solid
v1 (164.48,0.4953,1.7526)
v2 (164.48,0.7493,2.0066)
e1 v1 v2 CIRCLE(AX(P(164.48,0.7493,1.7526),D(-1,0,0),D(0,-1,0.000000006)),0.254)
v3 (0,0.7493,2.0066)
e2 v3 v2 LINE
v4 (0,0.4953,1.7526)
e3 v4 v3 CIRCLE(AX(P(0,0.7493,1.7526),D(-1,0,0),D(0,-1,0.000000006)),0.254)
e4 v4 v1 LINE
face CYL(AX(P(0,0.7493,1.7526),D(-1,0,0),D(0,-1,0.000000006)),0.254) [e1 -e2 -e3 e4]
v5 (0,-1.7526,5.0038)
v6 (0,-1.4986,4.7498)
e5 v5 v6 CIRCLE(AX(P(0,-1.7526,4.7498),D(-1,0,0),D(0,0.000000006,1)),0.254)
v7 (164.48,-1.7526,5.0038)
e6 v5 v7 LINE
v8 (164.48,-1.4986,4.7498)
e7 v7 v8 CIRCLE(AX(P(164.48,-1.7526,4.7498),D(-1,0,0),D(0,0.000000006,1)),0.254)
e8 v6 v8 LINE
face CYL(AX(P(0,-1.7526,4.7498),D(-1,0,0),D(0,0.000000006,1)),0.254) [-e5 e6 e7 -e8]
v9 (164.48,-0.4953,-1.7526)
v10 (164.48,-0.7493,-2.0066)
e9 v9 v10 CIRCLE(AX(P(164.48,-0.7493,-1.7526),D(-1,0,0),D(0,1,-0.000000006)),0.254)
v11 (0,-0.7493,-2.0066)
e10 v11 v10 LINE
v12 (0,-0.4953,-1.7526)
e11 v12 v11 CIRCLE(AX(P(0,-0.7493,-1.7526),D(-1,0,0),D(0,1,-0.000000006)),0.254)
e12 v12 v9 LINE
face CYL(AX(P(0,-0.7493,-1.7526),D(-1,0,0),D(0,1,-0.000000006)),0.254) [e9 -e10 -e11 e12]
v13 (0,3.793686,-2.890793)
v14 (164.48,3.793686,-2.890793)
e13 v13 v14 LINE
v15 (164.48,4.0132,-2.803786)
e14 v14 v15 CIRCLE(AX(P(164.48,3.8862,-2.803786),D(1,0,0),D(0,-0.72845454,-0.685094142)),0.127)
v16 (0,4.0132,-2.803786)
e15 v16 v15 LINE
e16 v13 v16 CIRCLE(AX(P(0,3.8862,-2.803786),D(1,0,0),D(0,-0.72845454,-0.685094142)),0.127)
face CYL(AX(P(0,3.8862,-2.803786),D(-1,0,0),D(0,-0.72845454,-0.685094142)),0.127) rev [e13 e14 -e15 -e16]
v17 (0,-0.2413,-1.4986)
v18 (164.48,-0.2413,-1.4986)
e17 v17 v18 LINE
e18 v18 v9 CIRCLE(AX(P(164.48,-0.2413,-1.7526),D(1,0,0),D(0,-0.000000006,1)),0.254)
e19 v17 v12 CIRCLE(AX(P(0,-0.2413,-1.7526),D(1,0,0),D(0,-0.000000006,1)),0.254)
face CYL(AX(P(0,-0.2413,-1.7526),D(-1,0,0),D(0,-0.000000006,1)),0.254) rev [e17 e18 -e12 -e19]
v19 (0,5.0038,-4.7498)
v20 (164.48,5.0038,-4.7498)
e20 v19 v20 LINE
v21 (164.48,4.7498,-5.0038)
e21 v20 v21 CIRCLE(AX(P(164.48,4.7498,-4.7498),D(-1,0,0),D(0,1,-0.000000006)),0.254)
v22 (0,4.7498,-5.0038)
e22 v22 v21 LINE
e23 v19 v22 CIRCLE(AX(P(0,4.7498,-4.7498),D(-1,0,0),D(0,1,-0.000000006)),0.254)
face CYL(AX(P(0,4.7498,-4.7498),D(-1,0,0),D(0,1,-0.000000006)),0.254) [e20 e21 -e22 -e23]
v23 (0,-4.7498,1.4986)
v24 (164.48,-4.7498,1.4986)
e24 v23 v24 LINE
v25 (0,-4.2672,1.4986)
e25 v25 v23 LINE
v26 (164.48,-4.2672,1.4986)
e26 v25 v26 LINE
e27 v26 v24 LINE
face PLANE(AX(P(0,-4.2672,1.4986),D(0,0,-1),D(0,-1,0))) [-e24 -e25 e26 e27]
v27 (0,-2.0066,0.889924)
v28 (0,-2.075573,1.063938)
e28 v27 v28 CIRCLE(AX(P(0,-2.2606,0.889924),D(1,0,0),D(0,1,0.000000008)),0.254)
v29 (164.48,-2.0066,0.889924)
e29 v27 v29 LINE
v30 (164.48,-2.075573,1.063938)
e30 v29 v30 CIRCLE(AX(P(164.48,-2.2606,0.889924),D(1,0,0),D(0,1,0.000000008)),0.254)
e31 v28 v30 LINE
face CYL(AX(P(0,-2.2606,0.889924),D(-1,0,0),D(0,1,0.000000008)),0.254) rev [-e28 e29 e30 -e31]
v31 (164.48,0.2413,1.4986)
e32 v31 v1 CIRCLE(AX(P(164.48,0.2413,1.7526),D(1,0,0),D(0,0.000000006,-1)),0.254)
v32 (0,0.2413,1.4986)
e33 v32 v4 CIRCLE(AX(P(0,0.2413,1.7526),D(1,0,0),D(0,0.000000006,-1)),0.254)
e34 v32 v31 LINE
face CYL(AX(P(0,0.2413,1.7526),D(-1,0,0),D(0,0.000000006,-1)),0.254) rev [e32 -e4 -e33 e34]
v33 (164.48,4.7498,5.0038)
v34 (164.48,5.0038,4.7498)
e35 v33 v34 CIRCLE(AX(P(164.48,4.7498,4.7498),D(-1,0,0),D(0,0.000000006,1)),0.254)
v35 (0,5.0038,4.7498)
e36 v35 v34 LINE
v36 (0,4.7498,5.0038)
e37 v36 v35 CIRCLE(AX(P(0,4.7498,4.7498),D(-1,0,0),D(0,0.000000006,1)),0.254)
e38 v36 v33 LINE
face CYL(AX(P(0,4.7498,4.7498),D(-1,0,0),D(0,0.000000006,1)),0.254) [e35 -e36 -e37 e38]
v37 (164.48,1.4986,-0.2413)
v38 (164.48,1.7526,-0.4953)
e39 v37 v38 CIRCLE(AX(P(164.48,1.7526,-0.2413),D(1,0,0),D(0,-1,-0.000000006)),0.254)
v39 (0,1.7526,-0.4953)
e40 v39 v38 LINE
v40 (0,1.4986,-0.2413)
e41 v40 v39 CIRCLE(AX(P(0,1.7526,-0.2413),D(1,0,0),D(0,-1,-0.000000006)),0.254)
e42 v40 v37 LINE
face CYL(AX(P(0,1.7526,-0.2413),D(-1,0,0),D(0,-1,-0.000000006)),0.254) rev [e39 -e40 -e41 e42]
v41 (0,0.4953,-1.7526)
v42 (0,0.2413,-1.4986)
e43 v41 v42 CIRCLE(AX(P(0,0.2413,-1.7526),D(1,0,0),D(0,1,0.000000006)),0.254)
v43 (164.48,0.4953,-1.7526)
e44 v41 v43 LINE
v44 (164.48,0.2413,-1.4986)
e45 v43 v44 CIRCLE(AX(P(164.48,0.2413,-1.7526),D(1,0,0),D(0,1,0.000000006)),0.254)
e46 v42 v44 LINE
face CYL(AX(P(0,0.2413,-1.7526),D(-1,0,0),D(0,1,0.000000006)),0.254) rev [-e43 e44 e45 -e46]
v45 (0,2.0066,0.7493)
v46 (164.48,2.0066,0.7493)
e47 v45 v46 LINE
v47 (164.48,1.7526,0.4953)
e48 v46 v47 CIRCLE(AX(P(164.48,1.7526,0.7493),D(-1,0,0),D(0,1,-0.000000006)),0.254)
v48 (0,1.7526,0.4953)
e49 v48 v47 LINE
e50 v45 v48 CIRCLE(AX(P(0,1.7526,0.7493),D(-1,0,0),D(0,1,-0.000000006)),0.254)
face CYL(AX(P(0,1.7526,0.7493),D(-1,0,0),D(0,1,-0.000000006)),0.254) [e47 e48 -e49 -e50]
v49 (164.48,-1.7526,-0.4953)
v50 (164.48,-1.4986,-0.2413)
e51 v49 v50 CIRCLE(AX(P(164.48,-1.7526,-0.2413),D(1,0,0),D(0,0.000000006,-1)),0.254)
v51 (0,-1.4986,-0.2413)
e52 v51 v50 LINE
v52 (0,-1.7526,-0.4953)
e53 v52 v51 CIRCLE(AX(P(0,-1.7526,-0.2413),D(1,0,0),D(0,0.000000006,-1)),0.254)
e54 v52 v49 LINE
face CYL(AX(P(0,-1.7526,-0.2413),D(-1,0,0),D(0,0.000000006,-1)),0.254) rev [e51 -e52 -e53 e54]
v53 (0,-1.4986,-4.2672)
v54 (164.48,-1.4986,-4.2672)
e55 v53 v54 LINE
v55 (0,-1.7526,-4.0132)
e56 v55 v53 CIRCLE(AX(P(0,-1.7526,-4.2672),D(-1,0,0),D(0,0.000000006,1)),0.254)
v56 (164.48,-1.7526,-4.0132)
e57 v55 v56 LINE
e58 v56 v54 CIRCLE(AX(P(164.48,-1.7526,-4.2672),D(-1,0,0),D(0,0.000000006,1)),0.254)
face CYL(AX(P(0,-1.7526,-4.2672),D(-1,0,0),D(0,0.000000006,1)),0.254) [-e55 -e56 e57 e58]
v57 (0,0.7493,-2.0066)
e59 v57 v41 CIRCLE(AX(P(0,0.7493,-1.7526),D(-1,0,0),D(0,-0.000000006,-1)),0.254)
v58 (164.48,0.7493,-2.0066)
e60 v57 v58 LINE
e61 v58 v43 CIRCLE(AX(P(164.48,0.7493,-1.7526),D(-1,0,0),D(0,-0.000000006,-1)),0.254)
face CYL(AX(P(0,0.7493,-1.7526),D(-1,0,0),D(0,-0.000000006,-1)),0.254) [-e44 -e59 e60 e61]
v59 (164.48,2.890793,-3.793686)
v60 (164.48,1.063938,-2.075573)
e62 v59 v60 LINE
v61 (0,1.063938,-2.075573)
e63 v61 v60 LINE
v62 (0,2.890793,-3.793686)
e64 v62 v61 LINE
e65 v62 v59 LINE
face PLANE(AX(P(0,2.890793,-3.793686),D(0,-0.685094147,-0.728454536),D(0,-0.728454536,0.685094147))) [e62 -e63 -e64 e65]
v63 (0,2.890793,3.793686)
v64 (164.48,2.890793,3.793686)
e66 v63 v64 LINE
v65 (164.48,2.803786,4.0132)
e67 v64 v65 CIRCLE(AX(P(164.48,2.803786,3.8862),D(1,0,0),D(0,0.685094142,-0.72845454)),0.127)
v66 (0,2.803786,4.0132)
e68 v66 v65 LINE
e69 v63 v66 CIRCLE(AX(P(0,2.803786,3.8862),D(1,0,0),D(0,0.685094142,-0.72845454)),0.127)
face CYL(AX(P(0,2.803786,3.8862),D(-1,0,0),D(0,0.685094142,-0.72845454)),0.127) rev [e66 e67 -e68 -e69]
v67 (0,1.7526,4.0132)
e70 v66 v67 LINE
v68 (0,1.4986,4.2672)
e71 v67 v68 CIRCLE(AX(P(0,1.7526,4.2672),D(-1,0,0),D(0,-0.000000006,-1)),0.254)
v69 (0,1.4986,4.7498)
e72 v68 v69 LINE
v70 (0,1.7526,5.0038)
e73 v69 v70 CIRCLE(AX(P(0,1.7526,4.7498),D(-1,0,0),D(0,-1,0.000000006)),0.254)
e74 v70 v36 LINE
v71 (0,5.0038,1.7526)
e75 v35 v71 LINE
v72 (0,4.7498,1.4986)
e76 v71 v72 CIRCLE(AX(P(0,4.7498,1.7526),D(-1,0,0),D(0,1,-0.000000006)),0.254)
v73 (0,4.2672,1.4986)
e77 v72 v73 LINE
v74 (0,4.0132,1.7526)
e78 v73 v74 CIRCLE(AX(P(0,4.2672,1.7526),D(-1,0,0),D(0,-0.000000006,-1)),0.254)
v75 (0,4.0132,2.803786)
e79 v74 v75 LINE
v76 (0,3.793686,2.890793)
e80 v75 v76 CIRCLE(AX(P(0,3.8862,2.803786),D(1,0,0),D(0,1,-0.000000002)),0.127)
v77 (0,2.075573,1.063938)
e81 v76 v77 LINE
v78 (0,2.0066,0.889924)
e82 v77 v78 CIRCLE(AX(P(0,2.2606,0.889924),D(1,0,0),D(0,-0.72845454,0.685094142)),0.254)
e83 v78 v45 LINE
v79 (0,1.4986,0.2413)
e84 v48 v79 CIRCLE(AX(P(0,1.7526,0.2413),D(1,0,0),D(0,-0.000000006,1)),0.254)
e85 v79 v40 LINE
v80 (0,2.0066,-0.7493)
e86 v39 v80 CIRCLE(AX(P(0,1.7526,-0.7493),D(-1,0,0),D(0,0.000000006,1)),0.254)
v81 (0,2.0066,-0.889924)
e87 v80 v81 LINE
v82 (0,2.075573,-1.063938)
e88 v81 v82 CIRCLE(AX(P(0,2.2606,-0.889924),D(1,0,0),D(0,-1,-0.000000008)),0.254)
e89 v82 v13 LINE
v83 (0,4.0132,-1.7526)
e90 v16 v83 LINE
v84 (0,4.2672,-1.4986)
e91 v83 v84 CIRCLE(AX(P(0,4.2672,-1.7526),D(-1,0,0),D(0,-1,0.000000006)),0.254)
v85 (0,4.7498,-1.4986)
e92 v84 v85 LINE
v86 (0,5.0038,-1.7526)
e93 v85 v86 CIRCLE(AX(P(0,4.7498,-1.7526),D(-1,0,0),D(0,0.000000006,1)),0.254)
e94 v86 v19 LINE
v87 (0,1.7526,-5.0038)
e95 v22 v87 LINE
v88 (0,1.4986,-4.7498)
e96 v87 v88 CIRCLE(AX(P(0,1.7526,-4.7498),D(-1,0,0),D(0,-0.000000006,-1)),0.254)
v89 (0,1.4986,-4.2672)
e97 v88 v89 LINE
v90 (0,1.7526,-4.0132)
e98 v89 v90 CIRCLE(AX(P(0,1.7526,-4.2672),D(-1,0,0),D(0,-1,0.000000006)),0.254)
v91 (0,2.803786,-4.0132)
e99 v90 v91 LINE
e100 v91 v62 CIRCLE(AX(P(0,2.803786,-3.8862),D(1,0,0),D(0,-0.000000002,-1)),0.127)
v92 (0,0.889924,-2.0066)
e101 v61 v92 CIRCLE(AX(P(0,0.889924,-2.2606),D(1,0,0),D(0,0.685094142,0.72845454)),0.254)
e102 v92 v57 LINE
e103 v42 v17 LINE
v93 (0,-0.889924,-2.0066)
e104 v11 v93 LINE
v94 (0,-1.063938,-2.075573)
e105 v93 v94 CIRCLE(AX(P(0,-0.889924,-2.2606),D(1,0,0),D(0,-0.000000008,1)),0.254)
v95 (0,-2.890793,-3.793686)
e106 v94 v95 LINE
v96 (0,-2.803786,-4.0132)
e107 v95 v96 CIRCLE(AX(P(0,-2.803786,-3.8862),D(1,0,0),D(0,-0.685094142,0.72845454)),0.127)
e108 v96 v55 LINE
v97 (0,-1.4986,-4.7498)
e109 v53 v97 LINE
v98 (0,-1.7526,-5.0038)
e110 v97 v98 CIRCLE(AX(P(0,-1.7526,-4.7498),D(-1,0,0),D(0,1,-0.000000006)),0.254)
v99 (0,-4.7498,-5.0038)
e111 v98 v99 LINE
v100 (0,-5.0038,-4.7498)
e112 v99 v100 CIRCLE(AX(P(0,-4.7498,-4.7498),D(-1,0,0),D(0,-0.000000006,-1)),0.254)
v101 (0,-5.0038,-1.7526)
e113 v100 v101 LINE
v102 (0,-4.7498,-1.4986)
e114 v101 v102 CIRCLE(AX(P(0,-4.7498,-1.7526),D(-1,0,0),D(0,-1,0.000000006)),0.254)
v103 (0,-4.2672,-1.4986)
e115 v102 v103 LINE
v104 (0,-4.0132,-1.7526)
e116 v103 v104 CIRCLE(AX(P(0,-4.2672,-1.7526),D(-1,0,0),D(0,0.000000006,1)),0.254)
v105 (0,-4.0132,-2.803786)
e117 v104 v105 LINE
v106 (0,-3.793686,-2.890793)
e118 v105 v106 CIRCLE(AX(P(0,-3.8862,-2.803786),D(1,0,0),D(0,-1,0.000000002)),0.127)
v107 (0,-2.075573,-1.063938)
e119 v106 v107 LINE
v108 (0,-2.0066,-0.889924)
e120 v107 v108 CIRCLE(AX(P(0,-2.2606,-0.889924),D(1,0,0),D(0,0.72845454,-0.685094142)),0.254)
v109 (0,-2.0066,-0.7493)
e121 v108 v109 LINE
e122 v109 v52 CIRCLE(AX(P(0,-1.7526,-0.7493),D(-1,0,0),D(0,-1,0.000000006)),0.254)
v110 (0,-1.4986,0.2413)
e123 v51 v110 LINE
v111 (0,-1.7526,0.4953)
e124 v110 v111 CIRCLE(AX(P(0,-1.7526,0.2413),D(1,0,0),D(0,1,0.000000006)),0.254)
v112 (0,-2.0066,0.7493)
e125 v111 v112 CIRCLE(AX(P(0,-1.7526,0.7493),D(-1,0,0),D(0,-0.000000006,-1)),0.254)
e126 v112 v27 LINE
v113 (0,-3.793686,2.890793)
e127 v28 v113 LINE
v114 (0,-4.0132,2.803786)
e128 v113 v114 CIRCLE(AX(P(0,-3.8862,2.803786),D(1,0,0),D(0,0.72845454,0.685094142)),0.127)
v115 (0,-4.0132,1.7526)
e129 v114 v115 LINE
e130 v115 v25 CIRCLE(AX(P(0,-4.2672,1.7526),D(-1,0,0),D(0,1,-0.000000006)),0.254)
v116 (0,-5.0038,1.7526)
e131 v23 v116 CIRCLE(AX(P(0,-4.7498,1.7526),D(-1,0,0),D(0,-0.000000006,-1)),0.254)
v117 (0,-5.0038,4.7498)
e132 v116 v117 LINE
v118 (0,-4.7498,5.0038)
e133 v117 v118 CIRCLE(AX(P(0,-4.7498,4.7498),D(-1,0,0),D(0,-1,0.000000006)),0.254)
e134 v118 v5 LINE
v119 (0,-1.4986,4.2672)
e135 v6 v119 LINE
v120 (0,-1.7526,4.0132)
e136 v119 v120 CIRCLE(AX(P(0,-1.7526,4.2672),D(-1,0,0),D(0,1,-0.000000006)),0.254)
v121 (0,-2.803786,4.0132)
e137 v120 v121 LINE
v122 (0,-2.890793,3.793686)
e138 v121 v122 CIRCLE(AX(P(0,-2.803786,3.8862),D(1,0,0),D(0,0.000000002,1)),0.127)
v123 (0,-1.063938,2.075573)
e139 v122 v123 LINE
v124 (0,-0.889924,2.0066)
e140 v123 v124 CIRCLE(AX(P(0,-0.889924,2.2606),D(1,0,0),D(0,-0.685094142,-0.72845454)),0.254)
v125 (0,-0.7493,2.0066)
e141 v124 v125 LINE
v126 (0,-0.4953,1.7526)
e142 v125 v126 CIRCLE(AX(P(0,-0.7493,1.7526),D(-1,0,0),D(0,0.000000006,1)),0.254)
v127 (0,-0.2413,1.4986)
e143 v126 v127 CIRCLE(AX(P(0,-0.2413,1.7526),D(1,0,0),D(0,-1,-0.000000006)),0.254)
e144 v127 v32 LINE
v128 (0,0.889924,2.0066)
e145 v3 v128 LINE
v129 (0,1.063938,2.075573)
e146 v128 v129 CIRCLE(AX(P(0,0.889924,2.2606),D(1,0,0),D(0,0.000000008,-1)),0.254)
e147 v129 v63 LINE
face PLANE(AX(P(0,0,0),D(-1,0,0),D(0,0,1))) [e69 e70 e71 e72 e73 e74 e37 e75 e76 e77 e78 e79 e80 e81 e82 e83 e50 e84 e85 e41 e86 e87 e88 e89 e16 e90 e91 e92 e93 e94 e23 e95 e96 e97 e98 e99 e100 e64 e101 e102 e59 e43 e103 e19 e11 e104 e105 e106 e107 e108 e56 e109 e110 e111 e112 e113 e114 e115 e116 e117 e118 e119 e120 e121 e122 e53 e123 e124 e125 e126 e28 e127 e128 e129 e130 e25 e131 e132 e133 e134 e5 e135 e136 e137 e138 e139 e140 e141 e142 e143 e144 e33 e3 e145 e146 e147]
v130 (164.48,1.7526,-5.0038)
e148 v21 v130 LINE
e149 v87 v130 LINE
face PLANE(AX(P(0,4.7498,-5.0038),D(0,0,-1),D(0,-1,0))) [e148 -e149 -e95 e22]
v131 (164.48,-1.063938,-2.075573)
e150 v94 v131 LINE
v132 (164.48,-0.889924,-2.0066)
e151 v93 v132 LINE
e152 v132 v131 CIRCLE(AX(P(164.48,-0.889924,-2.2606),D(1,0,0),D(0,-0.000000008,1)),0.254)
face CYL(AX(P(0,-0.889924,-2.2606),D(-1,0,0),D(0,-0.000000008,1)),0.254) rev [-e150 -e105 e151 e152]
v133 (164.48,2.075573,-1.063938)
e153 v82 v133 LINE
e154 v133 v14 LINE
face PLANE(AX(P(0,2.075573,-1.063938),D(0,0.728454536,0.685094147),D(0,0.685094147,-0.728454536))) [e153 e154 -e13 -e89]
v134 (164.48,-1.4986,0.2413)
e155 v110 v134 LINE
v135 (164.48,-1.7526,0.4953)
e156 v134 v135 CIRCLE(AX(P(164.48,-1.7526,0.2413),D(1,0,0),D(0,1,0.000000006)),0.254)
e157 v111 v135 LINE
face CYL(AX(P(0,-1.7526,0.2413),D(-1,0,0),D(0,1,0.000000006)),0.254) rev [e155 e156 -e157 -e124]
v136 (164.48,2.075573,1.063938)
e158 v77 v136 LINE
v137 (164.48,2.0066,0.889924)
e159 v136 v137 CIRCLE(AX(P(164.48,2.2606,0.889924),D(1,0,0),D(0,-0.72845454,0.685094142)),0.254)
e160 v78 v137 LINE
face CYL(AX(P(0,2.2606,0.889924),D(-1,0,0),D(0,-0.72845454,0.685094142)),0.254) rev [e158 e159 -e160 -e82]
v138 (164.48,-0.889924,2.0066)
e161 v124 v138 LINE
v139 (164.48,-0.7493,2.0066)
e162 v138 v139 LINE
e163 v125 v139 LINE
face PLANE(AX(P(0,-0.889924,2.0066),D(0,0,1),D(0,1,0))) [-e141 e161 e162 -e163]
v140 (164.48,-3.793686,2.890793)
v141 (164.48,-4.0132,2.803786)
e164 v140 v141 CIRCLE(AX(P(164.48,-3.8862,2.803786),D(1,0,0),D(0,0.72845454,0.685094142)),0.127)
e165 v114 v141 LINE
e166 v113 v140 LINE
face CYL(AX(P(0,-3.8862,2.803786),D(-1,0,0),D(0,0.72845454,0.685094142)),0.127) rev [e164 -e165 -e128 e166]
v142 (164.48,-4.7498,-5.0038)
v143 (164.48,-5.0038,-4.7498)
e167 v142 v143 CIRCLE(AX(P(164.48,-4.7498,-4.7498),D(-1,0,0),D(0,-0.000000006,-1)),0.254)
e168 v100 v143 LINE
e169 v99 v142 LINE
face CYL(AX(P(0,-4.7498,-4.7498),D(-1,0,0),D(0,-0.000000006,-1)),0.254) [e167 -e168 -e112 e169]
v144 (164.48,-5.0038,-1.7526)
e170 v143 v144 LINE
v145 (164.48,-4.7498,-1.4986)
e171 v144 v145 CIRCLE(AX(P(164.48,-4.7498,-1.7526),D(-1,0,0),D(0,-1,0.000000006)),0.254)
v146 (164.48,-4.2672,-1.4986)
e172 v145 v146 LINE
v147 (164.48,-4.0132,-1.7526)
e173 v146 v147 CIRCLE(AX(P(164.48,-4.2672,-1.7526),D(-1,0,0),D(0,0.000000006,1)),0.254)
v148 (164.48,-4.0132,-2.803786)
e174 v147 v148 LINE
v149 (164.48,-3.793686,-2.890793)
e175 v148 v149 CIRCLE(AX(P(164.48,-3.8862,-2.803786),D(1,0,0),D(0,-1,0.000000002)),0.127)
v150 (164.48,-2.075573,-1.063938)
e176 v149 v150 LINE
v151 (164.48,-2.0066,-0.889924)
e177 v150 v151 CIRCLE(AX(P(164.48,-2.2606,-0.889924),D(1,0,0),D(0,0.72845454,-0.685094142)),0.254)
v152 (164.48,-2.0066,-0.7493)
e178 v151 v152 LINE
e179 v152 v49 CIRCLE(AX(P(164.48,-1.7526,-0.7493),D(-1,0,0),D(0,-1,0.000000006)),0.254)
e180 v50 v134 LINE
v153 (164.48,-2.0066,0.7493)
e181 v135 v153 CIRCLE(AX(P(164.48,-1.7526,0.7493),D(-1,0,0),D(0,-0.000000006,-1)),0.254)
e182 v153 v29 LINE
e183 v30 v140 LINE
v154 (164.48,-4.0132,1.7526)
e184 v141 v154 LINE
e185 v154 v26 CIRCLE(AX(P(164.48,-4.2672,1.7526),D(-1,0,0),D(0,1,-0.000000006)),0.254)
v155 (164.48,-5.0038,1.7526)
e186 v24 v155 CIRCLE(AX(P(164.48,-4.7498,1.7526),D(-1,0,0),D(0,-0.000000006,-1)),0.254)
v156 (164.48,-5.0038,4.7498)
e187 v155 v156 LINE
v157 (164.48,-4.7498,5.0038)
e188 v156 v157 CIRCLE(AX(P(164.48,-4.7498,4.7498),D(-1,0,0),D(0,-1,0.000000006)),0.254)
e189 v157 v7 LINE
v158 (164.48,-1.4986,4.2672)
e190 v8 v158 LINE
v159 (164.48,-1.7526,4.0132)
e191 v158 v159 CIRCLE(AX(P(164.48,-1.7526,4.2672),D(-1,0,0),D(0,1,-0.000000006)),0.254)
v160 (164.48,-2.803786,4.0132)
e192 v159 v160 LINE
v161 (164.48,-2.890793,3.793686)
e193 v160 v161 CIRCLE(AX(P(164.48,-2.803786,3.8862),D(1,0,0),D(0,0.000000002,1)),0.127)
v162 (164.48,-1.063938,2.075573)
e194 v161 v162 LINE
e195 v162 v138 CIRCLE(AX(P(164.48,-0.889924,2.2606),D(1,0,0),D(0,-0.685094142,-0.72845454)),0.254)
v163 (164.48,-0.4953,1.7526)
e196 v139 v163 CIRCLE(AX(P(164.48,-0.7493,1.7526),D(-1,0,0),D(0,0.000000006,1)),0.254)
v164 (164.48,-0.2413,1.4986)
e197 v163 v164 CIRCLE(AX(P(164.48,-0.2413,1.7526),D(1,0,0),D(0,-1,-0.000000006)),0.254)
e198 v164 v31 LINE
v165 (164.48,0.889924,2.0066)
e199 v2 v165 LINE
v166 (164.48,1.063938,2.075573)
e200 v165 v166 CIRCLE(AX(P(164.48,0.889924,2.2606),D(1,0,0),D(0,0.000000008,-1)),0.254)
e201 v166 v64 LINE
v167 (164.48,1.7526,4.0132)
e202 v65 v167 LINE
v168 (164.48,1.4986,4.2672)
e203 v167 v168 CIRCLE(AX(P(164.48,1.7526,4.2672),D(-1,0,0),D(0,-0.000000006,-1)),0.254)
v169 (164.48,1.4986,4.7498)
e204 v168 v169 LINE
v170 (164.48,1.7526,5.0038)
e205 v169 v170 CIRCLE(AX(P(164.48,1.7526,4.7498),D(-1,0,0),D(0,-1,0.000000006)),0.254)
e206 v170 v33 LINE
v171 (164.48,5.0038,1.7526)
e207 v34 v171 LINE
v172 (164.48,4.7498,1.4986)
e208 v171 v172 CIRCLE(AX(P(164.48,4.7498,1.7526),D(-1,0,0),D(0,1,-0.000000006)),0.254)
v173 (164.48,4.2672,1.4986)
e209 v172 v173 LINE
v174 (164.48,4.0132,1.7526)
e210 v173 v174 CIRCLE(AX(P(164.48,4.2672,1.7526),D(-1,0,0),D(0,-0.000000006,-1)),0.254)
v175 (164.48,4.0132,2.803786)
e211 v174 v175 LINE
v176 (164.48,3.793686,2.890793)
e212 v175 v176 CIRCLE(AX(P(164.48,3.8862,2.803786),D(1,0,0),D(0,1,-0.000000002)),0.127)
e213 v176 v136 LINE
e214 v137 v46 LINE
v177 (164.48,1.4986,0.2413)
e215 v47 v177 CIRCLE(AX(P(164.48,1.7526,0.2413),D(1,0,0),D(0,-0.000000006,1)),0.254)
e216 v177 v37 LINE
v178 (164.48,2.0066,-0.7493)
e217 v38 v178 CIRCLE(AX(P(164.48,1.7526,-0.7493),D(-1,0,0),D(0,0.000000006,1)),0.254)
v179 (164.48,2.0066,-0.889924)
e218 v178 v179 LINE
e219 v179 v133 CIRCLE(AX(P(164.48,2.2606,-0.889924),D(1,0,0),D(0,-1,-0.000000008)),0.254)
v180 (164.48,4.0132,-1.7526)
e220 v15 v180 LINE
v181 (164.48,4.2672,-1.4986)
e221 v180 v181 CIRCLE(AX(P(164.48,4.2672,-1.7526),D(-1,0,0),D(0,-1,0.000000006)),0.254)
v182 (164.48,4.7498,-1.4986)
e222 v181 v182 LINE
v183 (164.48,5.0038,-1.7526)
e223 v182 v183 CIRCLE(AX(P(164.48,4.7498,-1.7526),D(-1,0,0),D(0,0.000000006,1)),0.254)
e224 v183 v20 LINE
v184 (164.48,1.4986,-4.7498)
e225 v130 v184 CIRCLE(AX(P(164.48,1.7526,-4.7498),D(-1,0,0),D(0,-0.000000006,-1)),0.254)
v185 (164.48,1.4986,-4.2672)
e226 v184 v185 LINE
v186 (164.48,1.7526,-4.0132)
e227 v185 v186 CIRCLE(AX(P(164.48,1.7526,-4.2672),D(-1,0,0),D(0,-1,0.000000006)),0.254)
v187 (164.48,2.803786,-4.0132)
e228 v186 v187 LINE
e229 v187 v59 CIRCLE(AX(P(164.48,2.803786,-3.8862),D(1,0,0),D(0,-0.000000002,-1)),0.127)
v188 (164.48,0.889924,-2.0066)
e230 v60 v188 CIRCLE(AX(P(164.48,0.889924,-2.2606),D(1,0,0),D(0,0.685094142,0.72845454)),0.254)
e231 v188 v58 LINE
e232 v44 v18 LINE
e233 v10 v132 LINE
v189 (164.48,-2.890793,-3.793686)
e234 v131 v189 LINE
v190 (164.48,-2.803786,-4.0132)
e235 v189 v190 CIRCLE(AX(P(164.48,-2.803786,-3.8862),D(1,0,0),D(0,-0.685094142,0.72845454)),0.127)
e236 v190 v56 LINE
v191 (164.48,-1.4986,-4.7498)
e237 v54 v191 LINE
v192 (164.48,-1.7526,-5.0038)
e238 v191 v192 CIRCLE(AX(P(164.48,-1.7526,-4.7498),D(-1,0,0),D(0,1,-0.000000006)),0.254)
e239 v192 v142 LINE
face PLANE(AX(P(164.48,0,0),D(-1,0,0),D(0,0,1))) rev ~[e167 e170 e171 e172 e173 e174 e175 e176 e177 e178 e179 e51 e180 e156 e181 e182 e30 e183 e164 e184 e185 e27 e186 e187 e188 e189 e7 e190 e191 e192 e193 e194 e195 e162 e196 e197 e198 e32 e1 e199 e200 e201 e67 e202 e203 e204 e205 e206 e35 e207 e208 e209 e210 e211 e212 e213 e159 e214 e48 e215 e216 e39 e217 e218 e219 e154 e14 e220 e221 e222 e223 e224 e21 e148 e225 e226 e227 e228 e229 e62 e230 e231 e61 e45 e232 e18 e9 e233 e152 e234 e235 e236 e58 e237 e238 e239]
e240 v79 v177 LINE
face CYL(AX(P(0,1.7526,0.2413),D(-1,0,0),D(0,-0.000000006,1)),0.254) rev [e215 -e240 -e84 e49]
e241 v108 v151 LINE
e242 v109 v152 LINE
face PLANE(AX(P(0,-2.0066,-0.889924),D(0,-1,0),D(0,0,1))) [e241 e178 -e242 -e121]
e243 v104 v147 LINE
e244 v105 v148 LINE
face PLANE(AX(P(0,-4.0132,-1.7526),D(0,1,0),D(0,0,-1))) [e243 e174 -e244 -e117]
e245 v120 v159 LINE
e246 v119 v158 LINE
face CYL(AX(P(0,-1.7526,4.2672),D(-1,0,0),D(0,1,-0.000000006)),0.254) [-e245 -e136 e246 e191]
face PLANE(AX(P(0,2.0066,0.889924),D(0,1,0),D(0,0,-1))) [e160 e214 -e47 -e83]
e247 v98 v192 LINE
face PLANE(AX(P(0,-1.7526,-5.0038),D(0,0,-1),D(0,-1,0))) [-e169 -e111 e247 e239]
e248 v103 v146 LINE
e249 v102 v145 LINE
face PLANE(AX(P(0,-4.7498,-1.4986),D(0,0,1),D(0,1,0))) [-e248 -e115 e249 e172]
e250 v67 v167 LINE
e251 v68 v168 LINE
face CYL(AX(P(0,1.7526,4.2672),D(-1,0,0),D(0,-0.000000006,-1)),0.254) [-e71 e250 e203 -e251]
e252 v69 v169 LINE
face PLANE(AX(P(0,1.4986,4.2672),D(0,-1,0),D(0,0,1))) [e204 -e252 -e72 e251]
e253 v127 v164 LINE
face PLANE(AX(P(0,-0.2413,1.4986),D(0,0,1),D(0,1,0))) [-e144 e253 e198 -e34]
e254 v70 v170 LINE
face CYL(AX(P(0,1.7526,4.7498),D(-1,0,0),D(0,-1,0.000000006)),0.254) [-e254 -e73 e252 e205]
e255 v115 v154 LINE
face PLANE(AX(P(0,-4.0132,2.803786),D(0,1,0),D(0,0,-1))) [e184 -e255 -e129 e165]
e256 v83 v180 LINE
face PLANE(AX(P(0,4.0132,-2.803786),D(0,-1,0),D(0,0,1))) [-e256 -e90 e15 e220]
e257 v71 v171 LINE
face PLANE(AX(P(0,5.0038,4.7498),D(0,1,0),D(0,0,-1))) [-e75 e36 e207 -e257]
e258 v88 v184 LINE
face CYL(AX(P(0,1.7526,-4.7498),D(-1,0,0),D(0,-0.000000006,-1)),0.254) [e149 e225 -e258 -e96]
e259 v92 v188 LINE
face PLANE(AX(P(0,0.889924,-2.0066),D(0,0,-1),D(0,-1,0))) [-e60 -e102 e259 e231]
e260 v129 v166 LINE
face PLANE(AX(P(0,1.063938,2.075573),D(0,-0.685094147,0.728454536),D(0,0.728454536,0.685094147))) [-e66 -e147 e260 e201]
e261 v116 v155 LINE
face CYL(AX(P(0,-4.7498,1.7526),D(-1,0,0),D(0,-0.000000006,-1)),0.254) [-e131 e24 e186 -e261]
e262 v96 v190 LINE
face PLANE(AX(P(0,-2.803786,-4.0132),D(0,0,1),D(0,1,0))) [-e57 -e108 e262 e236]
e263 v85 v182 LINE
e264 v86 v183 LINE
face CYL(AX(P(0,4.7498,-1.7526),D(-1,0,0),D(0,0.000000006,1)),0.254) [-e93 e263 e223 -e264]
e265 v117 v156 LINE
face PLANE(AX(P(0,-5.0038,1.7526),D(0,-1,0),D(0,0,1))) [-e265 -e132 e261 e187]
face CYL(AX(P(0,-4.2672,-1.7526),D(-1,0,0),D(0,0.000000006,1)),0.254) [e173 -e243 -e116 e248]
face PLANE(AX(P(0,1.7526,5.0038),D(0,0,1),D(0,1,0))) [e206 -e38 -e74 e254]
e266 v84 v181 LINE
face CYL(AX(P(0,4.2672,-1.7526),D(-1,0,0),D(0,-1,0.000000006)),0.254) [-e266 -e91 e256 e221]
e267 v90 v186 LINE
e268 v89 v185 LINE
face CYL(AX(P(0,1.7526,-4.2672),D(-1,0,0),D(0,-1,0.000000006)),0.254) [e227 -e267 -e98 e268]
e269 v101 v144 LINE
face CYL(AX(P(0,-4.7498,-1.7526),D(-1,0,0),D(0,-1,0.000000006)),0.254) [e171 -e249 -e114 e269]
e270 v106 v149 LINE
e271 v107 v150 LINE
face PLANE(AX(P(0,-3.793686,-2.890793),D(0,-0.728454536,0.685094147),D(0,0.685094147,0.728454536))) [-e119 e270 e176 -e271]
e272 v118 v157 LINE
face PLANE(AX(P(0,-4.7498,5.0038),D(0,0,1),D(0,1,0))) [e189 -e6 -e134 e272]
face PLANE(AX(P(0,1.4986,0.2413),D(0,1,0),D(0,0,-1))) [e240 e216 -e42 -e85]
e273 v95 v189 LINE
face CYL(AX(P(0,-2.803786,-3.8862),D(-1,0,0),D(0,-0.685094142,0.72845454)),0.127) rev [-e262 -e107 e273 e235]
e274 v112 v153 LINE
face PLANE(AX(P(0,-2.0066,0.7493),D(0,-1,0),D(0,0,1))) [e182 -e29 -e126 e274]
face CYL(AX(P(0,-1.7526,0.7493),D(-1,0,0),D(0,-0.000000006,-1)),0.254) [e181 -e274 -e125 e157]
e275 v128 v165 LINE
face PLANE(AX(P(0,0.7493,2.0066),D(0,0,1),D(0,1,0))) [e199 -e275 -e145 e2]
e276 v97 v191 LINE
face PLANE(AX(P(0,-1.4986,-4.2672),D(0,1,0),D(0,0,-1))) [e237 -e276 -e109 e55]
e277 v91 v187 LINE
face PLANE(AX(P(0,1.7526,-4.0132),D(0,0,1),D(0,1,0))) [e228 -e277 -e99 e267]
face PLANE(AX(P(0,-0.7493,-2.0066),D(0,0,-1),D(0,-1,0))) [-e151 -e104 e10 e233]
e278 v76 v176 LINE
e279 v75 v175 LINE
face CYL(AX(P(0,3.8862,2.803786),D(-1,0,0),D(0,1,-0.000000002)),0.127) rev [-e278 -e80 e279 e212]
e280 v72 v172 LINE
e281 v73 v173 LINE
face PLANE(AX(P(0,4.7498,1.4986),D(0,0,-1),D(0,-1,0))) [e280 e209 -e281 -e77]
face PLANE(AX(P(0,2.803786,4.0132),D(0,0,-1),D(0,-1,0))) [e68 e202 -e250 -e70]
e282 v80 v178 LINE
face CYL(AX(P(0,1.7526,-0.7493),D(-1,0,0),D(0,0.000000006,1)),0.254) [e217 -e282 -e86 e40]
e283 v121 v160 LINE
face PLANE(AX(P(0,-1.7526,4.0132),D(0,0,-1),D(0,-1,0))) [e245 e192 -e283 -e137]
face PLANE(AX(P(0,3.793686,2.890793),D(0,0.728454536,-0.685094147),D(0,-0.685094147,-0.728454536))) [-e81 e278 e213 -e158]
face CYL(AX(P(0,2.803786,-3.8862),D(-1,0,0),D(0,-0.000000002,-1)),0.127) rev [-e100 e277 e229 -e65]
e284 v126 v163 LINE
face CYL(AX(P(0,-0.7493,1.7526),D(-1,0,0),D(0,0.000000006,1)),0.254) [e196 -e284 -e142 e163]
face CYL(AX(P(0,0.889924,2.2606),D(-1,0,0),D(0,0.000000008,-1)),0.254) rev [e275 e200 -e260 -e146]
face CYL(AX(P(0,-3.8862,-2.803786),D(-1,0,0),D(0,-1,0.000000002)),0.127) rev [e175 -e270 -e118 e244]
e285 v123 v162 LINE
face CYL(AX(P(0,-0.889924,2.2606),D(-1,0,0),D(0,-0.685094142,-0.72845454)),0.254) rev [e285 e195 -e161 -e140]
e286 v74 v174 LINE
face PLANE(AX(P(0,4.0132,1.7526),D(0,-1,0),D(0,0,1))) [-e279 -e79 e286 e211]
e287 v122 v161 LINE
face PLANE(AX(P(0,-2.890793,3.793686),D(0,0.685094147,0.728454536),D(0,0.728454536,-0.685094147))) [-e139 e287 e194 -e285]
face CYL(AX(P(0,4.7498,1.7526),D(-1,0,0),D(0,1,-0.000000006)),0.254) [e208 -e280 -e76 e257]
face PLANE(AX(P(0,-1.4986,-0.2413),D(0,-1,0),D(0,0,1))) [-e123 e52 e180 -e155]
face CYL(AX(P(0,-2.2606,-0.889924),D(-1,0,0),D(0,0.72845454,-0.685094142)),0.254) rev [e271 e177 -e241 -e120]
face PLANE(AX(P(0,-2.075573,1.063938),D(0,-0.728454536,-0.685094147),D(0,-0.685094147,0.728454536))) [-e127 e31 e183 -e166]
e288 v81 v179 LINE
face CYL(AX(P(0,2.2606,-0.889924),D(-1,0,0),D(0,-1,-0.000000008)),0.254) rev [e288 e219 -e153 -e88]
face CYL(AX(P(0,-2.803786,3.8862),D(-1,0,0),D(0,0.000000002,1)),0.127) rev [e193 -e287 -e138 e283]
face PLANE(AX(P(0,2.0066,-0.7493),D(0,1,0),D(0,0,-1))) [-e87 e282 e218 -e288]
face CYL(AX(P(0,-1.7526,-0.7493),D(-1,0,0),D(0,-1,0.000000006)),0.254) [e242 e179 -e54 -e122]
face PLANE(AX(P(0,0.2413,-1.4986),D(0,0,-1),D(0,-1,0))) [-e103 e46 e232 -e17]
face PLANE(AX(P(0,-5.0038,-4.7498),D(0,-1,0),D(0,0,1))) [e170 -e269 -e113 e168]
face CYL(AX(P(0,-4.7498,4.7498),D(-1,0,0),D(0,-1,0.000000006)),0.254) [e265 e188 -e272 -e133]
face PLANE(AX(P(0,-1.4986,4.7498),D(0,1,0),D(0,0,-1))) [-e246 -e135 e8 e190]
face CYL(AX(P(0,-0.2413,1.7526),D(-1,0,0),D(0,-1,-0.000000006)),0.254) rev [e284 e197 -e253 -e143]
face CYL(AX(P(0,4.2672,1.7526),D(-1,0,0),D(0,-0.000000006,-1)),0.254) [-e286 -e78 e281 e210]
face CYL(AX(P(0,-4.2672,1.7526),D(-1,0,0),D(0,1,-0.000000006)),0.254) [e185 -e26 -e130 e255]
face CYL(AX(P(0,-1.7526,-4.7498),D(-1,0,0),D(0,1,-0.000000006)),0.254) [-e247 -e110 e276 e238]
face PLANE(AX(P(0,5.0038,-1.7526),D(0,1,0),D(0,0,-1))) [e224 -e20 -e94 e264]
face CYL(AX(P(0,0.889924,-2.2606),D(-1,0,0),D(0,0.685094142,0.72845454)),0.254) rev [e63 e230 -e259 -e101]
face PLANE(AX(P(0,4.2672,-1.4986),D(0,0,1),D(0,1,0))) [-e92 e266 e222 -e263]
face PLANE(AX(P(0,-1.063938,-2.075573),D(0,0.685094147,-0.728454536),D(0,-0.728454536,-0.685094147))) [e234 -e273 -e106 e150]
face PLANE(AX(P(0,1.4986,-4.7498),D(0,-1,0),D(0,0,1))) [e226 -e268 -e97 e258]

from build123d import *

# Parameters (mm, degrees)
BOSS_EXTRU_1_DEPTH = 164.48


with BuildPart() as part:
    # Sketch1 → Boss.-Extru.1 (new body)
    with BuildSketch(Plane(origin=(0, 0, 0), x_dir=(0, 0, -1), z_dir=(1, 0, 0))):
        with BuildLine():
            Line((-0.2413, 1.4986), (0.2413, 1.4986))
            ThreePointArc((0.2413, 1.4986), (0.420905122, 1.572994878), (0.4953, 1.7526))
            ThreePointArc((0.4953, 1.7526), (0.569694878, 1.932205122), (0.7493, 2.0066))
            Line((0.7493, 2.0066), (0.889923986, 2.0066))
            ThreePointArc((0.889923986, 2.0066), (0.983516259, 2.024471886), (1.063937899, 2.075572548))
            Line((1.063937899, 2.075572548), (2.890793, 3.793686274))
            ThreePointArc((2.890793, 3.793686274), (2.921850101, 3.932996137), (2.803786044, 4.0132))
            Line((2.803786044, 4.0132), (1.7526, 4.0132))
            ThreePointArc((1.7526, 4.0132), (1.572994878, 4.087594878), (1.4986, 4.2672))
            Line((1.4986, 4.2672), (1.4986, 4.7498))
            ThreePointArc((1.4986, 4.7498), (1.572994878, 4.929405122), (1.7526, 5.0038))
            Line((1.7526, 5.0038), (4.7498, 5.0038))
            ThreePointArc((4.7498, 5.0038), (4.929405122, 4.929405122), (5.0038, 4.7498))
            Line((5.0038, 4.7498), (5.0038, 1.7526))
            ThreePointArc((5.0038, 1.7526), (4.929405122, 1.572994878), (4.7498, 1.4986))
            Line((4.7498, 1.4986), (4.2672, 1.4986))
            ThreePointArc((4.2672, 1.4986), (4.087594878, 1.572994878), (4.0132, 1.7526))
            Line((4.0132, 1.7526), (4.0132, 2.803786044))
            ThreePointArc((4.0132, 2.803786044), (3.932996137, 2.921850101), (3.793686274, 2.890793))
            Line((3.793686274, 2.890793), (2.075572548, 1.063937899))
            ThreePointArc((2.075572548, 1.063937899), (2.024471886, 0.983516259), (2.0066, 0.889923986))
            Line((2.0066, 0.889923986), (2.0066, 0.7493))
            ThreePointArc((2.0066, 0.7493), (1.932205122, 0.569694878), (1.7526, 0.4953))
            ThreePointArc((1.7526, 0.4953), (1.572994878, 0.420905122), (1.4986, 0.2413))
            Line((1.4986, 0.2413), (1.4986, -0.2413))
            ThreePointArc((1.4986, -0.2413), (1.572994878, -0.420905122), (1.7526, -0.4953))
            ThreePointArc((1.7526, -0.4953), (1.932205122, -0.569694878), (2.0066, -0.7493))
            Line((2.0066, -0.7493), (2.0066, -0.889923986))
            ThreePointArc((2.0066, -0.889923986), (2.024471886, -0.983516259), (2.075572548, -1.063937899))
            Line((2.075572548, -1.063937899), (3.793686274, -2.890793))
            ThreePointArc((3.793686274, -2.890793), (3.932996137, -2.921850101), (4.0132, -2.803786044))
            Line((4.0132, -2.803786044), (4.0132, -1.7526))
            ThreePointArc((4.0132, -1.7526), (4.087594878, -1.572994878), (4.2672, -1.4986))
            Line((4.2672, -1.4986), (4.7498, -1.4986))
            ThreePointArc((4.7498, -1.4986), (4.929405122, -1.572994878), (5.0038, -1.7526))
            Line((5.0038, -1.7526), (5.0038, -4.7498))
            ThreePointArc((5.0038, -4.7498), (4.929405122, -4.929405122), (4.7498, -5.0038))
            Line((4.7498, -5.0038), (1.7526, -5.0038))
            ThreePointArc((1.7526, -5.0038), (1.572994878, -4.929405122), (1.4986, -4.7498))
            Line((1.4986, -4.7498), (1.4986, -4.2672))
            ThreePointArc((1.4986, -4.2672), (1.572994878, -4.087594878), (1.7526, -4.0132))
            Line((1.7526, -4.0132), (2.803786044, -4.0132))
            ThreePointArc((2.803786044, -4.0132), (2.921850101, -3.932996137), (2.890793, -3.793686274))
            Line((2.890793, -3.793686274), (1.063937899, -2.075572548))
            ThreePointArc((1.063937899, -2.075572548), (0.983516259, -2.024471886), (0.889923986, -2.0066))
            Line((0.889923986, -2.0066), (0.7493, -2.0066))
            ThreePointArc((0.7493, -2.0066), (0.569694878, -1.932205122), (0.4953, -1.7526))
            ThreePointArc((0.4953, -1.7526), (0.420905122, -1.572994878), (0.2413, -1.4986))
            Line((0.2413, -1.4986), (-0.2413, -1.4986))
            ThreePointArc((-0.2413, -1.4986), (-0.420905122, -1.572994878), (-0.4953, -1.7526))
            ThreePointArc((-0.4953, -1.7526), (-0.569694878, -1.932205122), (-0.7493, -2.0066))
            Line((-0.7493, -2.0066), (-0.889923986, -2.0066))
            ThreePointArc((-0.889923986, -2.0066), (-0.983516259, -2.024471886), (-1.063937899, -2.075572548))
            Line((-1.063937899, -2.075572548), (-2.890793, -3.793686274))
            ThreePointArc((-2.890793, -3.793686274), (-2.921850101, -3.932996137), (-2.803786044, -4.0132))
            Line((-2.803786044, -4.0132), (-1.7526, -4.0132))
            ThreePointArc((-1.7526, -4.0132), (-1.572994878, -4.087594878), (-1.4986, -4.2672))
            Line((-1.4986, -4.2672), (-1.4986, -4.7498))
            ThreePointArc((-1.4986, -4.7498), (-1.572994878, -4.929405122), (-1.7526, -5.0038))
            Line((-1.7526, -5.0038), (-4.7498, -5.0038))
            ThreePointArc((-4.7498, -5.0038), (-4.929405122, -4.929405122), (-5.0038, -4.7498))
            Line((-5.0038, -4.7498), (-5.0038, -1.7526))
            ThreePointArc((-5.0038, -1.7526), (-4.929405122, -1.572994878), (-4.7498, -1.4986))
            Line((-4.7498, -1.4986), (-4.2672, -1.4986))
            ThreePointArc((-4.2672, -1.4986), (-4.087594878, -1.572994878), (-4.0132, -1.7526))
            Line((-4.0132, -1.7526), (-4.0132, -2.803786044))
            ThreePointArc((-4.0132, -2.803786044), (-3.932996137, -2.921850101), (-3.793686274, -2.890793))
            Line((-3.793686274, -2.890793), (-2.075572548, -1.063937899))
            ThreePointArc((-2.075572548, -1.063937899), (-2.024471886, -0.983516259), (-2.0066, -0.889923986))
            Line((-2.0066, -0.889923986), (-2.0066, -0.7493))
            ThreePointArc((-2.0066, -0.7493), (-1.932205122, -0.569694878), (-1.7526, -0.4953))
            ThreePointArc((-1.7526, -0.4953), (-1.572994878, -0.420905122), (-1.4986, -0.2413))
            Line((-1.4986, -0.2413), (-1.4986, 0.2413))
            ThreePointArc((-1.4986, 0.2413), (-1.572994878, 0.420905122), (-1.7526, 0.4953))
            ThreePointArc((-1.7526, 0.4953), (-1.932205122, 0.569694878), (-2.0066, 0.7493))
            Line((-2.0066, 0.7493), (-2.0066, 0.889923986))
            ThreePointArc((-2.0066, 0.889923986), (-2.024471886, 0.983516259), (-2.075572548, 1.063937899))
            Line((-2.075572548, 1.063937899), (-3.793686274, 2.890793))
            ThreePointArc((-3.793686274, 2.890793), (-3.932996137, 2.921850101), (-4.0132, 2.803786044))
            Line((-4.0132, 2.803786044), (-4.0132, 1.7526))
            ThreePointArc((-4.0132, 1.7526), (-4.087594878, 1.572994878), (-4.2672, 1.4986))
            Line((-4.2672, 1.4986), (-4.7498, 1.4986))
            ThreePointArc((-4.7498, 1.4986), (-4.929405122, 1.572994878), (-5.0038, 1.7526))
            Line((-5.0038, 1.7526), (-5.0038, 4.7498))
            ThreePointArc((-5.0038, 4.7498), (-4.929405122, 4.929405122), (-4.7498, 5.0038))
            Line((-4.7498, 5.0038), (-1.7526, 5.0038))
            ThreePointArc((-1.7526, 5.0038), (-1.572994878, 4.929405122), (-1.4986, 4.7498))
            Line((-1.4986, 4.7498), (-1.4986, 4.2672))
            ThreePointArc((-1.4986, 4.2672), (-1.572994878, 4.087594878), (-1.7526, 4.0132))
            Line((-1.7526, 4.0132), (-2.803786044, 4.0132))
            ThreePointArc((-2.803786044, 4.0132), (-2.921850101, 3.932996137), (-2.890793, 3.793686274))
            Line((-2.890793, 3.793686274), (-1.063937899, 2.075572548))
            ThreePointArc((-1.063937899, 2.075572548), (-0.983516259, 2.024471886), (-0.889923986, 2.0066))
            Line((-0.889923986, 2.0066), (-0.7493, 2.0066))
            ThreePointArc((-0.7493, 2.0066), (-0.569694878, 1.932205122), (-0.4953, 1.7526))
            ThreePointArc((-0.4953, 1.7526), (-0.420905122, 1.572994878), (-0.2413, 1.4986))
        make_face()
    extrude(amount=BOSS_EXTRU_1_DEPTH)


solid = part.part
